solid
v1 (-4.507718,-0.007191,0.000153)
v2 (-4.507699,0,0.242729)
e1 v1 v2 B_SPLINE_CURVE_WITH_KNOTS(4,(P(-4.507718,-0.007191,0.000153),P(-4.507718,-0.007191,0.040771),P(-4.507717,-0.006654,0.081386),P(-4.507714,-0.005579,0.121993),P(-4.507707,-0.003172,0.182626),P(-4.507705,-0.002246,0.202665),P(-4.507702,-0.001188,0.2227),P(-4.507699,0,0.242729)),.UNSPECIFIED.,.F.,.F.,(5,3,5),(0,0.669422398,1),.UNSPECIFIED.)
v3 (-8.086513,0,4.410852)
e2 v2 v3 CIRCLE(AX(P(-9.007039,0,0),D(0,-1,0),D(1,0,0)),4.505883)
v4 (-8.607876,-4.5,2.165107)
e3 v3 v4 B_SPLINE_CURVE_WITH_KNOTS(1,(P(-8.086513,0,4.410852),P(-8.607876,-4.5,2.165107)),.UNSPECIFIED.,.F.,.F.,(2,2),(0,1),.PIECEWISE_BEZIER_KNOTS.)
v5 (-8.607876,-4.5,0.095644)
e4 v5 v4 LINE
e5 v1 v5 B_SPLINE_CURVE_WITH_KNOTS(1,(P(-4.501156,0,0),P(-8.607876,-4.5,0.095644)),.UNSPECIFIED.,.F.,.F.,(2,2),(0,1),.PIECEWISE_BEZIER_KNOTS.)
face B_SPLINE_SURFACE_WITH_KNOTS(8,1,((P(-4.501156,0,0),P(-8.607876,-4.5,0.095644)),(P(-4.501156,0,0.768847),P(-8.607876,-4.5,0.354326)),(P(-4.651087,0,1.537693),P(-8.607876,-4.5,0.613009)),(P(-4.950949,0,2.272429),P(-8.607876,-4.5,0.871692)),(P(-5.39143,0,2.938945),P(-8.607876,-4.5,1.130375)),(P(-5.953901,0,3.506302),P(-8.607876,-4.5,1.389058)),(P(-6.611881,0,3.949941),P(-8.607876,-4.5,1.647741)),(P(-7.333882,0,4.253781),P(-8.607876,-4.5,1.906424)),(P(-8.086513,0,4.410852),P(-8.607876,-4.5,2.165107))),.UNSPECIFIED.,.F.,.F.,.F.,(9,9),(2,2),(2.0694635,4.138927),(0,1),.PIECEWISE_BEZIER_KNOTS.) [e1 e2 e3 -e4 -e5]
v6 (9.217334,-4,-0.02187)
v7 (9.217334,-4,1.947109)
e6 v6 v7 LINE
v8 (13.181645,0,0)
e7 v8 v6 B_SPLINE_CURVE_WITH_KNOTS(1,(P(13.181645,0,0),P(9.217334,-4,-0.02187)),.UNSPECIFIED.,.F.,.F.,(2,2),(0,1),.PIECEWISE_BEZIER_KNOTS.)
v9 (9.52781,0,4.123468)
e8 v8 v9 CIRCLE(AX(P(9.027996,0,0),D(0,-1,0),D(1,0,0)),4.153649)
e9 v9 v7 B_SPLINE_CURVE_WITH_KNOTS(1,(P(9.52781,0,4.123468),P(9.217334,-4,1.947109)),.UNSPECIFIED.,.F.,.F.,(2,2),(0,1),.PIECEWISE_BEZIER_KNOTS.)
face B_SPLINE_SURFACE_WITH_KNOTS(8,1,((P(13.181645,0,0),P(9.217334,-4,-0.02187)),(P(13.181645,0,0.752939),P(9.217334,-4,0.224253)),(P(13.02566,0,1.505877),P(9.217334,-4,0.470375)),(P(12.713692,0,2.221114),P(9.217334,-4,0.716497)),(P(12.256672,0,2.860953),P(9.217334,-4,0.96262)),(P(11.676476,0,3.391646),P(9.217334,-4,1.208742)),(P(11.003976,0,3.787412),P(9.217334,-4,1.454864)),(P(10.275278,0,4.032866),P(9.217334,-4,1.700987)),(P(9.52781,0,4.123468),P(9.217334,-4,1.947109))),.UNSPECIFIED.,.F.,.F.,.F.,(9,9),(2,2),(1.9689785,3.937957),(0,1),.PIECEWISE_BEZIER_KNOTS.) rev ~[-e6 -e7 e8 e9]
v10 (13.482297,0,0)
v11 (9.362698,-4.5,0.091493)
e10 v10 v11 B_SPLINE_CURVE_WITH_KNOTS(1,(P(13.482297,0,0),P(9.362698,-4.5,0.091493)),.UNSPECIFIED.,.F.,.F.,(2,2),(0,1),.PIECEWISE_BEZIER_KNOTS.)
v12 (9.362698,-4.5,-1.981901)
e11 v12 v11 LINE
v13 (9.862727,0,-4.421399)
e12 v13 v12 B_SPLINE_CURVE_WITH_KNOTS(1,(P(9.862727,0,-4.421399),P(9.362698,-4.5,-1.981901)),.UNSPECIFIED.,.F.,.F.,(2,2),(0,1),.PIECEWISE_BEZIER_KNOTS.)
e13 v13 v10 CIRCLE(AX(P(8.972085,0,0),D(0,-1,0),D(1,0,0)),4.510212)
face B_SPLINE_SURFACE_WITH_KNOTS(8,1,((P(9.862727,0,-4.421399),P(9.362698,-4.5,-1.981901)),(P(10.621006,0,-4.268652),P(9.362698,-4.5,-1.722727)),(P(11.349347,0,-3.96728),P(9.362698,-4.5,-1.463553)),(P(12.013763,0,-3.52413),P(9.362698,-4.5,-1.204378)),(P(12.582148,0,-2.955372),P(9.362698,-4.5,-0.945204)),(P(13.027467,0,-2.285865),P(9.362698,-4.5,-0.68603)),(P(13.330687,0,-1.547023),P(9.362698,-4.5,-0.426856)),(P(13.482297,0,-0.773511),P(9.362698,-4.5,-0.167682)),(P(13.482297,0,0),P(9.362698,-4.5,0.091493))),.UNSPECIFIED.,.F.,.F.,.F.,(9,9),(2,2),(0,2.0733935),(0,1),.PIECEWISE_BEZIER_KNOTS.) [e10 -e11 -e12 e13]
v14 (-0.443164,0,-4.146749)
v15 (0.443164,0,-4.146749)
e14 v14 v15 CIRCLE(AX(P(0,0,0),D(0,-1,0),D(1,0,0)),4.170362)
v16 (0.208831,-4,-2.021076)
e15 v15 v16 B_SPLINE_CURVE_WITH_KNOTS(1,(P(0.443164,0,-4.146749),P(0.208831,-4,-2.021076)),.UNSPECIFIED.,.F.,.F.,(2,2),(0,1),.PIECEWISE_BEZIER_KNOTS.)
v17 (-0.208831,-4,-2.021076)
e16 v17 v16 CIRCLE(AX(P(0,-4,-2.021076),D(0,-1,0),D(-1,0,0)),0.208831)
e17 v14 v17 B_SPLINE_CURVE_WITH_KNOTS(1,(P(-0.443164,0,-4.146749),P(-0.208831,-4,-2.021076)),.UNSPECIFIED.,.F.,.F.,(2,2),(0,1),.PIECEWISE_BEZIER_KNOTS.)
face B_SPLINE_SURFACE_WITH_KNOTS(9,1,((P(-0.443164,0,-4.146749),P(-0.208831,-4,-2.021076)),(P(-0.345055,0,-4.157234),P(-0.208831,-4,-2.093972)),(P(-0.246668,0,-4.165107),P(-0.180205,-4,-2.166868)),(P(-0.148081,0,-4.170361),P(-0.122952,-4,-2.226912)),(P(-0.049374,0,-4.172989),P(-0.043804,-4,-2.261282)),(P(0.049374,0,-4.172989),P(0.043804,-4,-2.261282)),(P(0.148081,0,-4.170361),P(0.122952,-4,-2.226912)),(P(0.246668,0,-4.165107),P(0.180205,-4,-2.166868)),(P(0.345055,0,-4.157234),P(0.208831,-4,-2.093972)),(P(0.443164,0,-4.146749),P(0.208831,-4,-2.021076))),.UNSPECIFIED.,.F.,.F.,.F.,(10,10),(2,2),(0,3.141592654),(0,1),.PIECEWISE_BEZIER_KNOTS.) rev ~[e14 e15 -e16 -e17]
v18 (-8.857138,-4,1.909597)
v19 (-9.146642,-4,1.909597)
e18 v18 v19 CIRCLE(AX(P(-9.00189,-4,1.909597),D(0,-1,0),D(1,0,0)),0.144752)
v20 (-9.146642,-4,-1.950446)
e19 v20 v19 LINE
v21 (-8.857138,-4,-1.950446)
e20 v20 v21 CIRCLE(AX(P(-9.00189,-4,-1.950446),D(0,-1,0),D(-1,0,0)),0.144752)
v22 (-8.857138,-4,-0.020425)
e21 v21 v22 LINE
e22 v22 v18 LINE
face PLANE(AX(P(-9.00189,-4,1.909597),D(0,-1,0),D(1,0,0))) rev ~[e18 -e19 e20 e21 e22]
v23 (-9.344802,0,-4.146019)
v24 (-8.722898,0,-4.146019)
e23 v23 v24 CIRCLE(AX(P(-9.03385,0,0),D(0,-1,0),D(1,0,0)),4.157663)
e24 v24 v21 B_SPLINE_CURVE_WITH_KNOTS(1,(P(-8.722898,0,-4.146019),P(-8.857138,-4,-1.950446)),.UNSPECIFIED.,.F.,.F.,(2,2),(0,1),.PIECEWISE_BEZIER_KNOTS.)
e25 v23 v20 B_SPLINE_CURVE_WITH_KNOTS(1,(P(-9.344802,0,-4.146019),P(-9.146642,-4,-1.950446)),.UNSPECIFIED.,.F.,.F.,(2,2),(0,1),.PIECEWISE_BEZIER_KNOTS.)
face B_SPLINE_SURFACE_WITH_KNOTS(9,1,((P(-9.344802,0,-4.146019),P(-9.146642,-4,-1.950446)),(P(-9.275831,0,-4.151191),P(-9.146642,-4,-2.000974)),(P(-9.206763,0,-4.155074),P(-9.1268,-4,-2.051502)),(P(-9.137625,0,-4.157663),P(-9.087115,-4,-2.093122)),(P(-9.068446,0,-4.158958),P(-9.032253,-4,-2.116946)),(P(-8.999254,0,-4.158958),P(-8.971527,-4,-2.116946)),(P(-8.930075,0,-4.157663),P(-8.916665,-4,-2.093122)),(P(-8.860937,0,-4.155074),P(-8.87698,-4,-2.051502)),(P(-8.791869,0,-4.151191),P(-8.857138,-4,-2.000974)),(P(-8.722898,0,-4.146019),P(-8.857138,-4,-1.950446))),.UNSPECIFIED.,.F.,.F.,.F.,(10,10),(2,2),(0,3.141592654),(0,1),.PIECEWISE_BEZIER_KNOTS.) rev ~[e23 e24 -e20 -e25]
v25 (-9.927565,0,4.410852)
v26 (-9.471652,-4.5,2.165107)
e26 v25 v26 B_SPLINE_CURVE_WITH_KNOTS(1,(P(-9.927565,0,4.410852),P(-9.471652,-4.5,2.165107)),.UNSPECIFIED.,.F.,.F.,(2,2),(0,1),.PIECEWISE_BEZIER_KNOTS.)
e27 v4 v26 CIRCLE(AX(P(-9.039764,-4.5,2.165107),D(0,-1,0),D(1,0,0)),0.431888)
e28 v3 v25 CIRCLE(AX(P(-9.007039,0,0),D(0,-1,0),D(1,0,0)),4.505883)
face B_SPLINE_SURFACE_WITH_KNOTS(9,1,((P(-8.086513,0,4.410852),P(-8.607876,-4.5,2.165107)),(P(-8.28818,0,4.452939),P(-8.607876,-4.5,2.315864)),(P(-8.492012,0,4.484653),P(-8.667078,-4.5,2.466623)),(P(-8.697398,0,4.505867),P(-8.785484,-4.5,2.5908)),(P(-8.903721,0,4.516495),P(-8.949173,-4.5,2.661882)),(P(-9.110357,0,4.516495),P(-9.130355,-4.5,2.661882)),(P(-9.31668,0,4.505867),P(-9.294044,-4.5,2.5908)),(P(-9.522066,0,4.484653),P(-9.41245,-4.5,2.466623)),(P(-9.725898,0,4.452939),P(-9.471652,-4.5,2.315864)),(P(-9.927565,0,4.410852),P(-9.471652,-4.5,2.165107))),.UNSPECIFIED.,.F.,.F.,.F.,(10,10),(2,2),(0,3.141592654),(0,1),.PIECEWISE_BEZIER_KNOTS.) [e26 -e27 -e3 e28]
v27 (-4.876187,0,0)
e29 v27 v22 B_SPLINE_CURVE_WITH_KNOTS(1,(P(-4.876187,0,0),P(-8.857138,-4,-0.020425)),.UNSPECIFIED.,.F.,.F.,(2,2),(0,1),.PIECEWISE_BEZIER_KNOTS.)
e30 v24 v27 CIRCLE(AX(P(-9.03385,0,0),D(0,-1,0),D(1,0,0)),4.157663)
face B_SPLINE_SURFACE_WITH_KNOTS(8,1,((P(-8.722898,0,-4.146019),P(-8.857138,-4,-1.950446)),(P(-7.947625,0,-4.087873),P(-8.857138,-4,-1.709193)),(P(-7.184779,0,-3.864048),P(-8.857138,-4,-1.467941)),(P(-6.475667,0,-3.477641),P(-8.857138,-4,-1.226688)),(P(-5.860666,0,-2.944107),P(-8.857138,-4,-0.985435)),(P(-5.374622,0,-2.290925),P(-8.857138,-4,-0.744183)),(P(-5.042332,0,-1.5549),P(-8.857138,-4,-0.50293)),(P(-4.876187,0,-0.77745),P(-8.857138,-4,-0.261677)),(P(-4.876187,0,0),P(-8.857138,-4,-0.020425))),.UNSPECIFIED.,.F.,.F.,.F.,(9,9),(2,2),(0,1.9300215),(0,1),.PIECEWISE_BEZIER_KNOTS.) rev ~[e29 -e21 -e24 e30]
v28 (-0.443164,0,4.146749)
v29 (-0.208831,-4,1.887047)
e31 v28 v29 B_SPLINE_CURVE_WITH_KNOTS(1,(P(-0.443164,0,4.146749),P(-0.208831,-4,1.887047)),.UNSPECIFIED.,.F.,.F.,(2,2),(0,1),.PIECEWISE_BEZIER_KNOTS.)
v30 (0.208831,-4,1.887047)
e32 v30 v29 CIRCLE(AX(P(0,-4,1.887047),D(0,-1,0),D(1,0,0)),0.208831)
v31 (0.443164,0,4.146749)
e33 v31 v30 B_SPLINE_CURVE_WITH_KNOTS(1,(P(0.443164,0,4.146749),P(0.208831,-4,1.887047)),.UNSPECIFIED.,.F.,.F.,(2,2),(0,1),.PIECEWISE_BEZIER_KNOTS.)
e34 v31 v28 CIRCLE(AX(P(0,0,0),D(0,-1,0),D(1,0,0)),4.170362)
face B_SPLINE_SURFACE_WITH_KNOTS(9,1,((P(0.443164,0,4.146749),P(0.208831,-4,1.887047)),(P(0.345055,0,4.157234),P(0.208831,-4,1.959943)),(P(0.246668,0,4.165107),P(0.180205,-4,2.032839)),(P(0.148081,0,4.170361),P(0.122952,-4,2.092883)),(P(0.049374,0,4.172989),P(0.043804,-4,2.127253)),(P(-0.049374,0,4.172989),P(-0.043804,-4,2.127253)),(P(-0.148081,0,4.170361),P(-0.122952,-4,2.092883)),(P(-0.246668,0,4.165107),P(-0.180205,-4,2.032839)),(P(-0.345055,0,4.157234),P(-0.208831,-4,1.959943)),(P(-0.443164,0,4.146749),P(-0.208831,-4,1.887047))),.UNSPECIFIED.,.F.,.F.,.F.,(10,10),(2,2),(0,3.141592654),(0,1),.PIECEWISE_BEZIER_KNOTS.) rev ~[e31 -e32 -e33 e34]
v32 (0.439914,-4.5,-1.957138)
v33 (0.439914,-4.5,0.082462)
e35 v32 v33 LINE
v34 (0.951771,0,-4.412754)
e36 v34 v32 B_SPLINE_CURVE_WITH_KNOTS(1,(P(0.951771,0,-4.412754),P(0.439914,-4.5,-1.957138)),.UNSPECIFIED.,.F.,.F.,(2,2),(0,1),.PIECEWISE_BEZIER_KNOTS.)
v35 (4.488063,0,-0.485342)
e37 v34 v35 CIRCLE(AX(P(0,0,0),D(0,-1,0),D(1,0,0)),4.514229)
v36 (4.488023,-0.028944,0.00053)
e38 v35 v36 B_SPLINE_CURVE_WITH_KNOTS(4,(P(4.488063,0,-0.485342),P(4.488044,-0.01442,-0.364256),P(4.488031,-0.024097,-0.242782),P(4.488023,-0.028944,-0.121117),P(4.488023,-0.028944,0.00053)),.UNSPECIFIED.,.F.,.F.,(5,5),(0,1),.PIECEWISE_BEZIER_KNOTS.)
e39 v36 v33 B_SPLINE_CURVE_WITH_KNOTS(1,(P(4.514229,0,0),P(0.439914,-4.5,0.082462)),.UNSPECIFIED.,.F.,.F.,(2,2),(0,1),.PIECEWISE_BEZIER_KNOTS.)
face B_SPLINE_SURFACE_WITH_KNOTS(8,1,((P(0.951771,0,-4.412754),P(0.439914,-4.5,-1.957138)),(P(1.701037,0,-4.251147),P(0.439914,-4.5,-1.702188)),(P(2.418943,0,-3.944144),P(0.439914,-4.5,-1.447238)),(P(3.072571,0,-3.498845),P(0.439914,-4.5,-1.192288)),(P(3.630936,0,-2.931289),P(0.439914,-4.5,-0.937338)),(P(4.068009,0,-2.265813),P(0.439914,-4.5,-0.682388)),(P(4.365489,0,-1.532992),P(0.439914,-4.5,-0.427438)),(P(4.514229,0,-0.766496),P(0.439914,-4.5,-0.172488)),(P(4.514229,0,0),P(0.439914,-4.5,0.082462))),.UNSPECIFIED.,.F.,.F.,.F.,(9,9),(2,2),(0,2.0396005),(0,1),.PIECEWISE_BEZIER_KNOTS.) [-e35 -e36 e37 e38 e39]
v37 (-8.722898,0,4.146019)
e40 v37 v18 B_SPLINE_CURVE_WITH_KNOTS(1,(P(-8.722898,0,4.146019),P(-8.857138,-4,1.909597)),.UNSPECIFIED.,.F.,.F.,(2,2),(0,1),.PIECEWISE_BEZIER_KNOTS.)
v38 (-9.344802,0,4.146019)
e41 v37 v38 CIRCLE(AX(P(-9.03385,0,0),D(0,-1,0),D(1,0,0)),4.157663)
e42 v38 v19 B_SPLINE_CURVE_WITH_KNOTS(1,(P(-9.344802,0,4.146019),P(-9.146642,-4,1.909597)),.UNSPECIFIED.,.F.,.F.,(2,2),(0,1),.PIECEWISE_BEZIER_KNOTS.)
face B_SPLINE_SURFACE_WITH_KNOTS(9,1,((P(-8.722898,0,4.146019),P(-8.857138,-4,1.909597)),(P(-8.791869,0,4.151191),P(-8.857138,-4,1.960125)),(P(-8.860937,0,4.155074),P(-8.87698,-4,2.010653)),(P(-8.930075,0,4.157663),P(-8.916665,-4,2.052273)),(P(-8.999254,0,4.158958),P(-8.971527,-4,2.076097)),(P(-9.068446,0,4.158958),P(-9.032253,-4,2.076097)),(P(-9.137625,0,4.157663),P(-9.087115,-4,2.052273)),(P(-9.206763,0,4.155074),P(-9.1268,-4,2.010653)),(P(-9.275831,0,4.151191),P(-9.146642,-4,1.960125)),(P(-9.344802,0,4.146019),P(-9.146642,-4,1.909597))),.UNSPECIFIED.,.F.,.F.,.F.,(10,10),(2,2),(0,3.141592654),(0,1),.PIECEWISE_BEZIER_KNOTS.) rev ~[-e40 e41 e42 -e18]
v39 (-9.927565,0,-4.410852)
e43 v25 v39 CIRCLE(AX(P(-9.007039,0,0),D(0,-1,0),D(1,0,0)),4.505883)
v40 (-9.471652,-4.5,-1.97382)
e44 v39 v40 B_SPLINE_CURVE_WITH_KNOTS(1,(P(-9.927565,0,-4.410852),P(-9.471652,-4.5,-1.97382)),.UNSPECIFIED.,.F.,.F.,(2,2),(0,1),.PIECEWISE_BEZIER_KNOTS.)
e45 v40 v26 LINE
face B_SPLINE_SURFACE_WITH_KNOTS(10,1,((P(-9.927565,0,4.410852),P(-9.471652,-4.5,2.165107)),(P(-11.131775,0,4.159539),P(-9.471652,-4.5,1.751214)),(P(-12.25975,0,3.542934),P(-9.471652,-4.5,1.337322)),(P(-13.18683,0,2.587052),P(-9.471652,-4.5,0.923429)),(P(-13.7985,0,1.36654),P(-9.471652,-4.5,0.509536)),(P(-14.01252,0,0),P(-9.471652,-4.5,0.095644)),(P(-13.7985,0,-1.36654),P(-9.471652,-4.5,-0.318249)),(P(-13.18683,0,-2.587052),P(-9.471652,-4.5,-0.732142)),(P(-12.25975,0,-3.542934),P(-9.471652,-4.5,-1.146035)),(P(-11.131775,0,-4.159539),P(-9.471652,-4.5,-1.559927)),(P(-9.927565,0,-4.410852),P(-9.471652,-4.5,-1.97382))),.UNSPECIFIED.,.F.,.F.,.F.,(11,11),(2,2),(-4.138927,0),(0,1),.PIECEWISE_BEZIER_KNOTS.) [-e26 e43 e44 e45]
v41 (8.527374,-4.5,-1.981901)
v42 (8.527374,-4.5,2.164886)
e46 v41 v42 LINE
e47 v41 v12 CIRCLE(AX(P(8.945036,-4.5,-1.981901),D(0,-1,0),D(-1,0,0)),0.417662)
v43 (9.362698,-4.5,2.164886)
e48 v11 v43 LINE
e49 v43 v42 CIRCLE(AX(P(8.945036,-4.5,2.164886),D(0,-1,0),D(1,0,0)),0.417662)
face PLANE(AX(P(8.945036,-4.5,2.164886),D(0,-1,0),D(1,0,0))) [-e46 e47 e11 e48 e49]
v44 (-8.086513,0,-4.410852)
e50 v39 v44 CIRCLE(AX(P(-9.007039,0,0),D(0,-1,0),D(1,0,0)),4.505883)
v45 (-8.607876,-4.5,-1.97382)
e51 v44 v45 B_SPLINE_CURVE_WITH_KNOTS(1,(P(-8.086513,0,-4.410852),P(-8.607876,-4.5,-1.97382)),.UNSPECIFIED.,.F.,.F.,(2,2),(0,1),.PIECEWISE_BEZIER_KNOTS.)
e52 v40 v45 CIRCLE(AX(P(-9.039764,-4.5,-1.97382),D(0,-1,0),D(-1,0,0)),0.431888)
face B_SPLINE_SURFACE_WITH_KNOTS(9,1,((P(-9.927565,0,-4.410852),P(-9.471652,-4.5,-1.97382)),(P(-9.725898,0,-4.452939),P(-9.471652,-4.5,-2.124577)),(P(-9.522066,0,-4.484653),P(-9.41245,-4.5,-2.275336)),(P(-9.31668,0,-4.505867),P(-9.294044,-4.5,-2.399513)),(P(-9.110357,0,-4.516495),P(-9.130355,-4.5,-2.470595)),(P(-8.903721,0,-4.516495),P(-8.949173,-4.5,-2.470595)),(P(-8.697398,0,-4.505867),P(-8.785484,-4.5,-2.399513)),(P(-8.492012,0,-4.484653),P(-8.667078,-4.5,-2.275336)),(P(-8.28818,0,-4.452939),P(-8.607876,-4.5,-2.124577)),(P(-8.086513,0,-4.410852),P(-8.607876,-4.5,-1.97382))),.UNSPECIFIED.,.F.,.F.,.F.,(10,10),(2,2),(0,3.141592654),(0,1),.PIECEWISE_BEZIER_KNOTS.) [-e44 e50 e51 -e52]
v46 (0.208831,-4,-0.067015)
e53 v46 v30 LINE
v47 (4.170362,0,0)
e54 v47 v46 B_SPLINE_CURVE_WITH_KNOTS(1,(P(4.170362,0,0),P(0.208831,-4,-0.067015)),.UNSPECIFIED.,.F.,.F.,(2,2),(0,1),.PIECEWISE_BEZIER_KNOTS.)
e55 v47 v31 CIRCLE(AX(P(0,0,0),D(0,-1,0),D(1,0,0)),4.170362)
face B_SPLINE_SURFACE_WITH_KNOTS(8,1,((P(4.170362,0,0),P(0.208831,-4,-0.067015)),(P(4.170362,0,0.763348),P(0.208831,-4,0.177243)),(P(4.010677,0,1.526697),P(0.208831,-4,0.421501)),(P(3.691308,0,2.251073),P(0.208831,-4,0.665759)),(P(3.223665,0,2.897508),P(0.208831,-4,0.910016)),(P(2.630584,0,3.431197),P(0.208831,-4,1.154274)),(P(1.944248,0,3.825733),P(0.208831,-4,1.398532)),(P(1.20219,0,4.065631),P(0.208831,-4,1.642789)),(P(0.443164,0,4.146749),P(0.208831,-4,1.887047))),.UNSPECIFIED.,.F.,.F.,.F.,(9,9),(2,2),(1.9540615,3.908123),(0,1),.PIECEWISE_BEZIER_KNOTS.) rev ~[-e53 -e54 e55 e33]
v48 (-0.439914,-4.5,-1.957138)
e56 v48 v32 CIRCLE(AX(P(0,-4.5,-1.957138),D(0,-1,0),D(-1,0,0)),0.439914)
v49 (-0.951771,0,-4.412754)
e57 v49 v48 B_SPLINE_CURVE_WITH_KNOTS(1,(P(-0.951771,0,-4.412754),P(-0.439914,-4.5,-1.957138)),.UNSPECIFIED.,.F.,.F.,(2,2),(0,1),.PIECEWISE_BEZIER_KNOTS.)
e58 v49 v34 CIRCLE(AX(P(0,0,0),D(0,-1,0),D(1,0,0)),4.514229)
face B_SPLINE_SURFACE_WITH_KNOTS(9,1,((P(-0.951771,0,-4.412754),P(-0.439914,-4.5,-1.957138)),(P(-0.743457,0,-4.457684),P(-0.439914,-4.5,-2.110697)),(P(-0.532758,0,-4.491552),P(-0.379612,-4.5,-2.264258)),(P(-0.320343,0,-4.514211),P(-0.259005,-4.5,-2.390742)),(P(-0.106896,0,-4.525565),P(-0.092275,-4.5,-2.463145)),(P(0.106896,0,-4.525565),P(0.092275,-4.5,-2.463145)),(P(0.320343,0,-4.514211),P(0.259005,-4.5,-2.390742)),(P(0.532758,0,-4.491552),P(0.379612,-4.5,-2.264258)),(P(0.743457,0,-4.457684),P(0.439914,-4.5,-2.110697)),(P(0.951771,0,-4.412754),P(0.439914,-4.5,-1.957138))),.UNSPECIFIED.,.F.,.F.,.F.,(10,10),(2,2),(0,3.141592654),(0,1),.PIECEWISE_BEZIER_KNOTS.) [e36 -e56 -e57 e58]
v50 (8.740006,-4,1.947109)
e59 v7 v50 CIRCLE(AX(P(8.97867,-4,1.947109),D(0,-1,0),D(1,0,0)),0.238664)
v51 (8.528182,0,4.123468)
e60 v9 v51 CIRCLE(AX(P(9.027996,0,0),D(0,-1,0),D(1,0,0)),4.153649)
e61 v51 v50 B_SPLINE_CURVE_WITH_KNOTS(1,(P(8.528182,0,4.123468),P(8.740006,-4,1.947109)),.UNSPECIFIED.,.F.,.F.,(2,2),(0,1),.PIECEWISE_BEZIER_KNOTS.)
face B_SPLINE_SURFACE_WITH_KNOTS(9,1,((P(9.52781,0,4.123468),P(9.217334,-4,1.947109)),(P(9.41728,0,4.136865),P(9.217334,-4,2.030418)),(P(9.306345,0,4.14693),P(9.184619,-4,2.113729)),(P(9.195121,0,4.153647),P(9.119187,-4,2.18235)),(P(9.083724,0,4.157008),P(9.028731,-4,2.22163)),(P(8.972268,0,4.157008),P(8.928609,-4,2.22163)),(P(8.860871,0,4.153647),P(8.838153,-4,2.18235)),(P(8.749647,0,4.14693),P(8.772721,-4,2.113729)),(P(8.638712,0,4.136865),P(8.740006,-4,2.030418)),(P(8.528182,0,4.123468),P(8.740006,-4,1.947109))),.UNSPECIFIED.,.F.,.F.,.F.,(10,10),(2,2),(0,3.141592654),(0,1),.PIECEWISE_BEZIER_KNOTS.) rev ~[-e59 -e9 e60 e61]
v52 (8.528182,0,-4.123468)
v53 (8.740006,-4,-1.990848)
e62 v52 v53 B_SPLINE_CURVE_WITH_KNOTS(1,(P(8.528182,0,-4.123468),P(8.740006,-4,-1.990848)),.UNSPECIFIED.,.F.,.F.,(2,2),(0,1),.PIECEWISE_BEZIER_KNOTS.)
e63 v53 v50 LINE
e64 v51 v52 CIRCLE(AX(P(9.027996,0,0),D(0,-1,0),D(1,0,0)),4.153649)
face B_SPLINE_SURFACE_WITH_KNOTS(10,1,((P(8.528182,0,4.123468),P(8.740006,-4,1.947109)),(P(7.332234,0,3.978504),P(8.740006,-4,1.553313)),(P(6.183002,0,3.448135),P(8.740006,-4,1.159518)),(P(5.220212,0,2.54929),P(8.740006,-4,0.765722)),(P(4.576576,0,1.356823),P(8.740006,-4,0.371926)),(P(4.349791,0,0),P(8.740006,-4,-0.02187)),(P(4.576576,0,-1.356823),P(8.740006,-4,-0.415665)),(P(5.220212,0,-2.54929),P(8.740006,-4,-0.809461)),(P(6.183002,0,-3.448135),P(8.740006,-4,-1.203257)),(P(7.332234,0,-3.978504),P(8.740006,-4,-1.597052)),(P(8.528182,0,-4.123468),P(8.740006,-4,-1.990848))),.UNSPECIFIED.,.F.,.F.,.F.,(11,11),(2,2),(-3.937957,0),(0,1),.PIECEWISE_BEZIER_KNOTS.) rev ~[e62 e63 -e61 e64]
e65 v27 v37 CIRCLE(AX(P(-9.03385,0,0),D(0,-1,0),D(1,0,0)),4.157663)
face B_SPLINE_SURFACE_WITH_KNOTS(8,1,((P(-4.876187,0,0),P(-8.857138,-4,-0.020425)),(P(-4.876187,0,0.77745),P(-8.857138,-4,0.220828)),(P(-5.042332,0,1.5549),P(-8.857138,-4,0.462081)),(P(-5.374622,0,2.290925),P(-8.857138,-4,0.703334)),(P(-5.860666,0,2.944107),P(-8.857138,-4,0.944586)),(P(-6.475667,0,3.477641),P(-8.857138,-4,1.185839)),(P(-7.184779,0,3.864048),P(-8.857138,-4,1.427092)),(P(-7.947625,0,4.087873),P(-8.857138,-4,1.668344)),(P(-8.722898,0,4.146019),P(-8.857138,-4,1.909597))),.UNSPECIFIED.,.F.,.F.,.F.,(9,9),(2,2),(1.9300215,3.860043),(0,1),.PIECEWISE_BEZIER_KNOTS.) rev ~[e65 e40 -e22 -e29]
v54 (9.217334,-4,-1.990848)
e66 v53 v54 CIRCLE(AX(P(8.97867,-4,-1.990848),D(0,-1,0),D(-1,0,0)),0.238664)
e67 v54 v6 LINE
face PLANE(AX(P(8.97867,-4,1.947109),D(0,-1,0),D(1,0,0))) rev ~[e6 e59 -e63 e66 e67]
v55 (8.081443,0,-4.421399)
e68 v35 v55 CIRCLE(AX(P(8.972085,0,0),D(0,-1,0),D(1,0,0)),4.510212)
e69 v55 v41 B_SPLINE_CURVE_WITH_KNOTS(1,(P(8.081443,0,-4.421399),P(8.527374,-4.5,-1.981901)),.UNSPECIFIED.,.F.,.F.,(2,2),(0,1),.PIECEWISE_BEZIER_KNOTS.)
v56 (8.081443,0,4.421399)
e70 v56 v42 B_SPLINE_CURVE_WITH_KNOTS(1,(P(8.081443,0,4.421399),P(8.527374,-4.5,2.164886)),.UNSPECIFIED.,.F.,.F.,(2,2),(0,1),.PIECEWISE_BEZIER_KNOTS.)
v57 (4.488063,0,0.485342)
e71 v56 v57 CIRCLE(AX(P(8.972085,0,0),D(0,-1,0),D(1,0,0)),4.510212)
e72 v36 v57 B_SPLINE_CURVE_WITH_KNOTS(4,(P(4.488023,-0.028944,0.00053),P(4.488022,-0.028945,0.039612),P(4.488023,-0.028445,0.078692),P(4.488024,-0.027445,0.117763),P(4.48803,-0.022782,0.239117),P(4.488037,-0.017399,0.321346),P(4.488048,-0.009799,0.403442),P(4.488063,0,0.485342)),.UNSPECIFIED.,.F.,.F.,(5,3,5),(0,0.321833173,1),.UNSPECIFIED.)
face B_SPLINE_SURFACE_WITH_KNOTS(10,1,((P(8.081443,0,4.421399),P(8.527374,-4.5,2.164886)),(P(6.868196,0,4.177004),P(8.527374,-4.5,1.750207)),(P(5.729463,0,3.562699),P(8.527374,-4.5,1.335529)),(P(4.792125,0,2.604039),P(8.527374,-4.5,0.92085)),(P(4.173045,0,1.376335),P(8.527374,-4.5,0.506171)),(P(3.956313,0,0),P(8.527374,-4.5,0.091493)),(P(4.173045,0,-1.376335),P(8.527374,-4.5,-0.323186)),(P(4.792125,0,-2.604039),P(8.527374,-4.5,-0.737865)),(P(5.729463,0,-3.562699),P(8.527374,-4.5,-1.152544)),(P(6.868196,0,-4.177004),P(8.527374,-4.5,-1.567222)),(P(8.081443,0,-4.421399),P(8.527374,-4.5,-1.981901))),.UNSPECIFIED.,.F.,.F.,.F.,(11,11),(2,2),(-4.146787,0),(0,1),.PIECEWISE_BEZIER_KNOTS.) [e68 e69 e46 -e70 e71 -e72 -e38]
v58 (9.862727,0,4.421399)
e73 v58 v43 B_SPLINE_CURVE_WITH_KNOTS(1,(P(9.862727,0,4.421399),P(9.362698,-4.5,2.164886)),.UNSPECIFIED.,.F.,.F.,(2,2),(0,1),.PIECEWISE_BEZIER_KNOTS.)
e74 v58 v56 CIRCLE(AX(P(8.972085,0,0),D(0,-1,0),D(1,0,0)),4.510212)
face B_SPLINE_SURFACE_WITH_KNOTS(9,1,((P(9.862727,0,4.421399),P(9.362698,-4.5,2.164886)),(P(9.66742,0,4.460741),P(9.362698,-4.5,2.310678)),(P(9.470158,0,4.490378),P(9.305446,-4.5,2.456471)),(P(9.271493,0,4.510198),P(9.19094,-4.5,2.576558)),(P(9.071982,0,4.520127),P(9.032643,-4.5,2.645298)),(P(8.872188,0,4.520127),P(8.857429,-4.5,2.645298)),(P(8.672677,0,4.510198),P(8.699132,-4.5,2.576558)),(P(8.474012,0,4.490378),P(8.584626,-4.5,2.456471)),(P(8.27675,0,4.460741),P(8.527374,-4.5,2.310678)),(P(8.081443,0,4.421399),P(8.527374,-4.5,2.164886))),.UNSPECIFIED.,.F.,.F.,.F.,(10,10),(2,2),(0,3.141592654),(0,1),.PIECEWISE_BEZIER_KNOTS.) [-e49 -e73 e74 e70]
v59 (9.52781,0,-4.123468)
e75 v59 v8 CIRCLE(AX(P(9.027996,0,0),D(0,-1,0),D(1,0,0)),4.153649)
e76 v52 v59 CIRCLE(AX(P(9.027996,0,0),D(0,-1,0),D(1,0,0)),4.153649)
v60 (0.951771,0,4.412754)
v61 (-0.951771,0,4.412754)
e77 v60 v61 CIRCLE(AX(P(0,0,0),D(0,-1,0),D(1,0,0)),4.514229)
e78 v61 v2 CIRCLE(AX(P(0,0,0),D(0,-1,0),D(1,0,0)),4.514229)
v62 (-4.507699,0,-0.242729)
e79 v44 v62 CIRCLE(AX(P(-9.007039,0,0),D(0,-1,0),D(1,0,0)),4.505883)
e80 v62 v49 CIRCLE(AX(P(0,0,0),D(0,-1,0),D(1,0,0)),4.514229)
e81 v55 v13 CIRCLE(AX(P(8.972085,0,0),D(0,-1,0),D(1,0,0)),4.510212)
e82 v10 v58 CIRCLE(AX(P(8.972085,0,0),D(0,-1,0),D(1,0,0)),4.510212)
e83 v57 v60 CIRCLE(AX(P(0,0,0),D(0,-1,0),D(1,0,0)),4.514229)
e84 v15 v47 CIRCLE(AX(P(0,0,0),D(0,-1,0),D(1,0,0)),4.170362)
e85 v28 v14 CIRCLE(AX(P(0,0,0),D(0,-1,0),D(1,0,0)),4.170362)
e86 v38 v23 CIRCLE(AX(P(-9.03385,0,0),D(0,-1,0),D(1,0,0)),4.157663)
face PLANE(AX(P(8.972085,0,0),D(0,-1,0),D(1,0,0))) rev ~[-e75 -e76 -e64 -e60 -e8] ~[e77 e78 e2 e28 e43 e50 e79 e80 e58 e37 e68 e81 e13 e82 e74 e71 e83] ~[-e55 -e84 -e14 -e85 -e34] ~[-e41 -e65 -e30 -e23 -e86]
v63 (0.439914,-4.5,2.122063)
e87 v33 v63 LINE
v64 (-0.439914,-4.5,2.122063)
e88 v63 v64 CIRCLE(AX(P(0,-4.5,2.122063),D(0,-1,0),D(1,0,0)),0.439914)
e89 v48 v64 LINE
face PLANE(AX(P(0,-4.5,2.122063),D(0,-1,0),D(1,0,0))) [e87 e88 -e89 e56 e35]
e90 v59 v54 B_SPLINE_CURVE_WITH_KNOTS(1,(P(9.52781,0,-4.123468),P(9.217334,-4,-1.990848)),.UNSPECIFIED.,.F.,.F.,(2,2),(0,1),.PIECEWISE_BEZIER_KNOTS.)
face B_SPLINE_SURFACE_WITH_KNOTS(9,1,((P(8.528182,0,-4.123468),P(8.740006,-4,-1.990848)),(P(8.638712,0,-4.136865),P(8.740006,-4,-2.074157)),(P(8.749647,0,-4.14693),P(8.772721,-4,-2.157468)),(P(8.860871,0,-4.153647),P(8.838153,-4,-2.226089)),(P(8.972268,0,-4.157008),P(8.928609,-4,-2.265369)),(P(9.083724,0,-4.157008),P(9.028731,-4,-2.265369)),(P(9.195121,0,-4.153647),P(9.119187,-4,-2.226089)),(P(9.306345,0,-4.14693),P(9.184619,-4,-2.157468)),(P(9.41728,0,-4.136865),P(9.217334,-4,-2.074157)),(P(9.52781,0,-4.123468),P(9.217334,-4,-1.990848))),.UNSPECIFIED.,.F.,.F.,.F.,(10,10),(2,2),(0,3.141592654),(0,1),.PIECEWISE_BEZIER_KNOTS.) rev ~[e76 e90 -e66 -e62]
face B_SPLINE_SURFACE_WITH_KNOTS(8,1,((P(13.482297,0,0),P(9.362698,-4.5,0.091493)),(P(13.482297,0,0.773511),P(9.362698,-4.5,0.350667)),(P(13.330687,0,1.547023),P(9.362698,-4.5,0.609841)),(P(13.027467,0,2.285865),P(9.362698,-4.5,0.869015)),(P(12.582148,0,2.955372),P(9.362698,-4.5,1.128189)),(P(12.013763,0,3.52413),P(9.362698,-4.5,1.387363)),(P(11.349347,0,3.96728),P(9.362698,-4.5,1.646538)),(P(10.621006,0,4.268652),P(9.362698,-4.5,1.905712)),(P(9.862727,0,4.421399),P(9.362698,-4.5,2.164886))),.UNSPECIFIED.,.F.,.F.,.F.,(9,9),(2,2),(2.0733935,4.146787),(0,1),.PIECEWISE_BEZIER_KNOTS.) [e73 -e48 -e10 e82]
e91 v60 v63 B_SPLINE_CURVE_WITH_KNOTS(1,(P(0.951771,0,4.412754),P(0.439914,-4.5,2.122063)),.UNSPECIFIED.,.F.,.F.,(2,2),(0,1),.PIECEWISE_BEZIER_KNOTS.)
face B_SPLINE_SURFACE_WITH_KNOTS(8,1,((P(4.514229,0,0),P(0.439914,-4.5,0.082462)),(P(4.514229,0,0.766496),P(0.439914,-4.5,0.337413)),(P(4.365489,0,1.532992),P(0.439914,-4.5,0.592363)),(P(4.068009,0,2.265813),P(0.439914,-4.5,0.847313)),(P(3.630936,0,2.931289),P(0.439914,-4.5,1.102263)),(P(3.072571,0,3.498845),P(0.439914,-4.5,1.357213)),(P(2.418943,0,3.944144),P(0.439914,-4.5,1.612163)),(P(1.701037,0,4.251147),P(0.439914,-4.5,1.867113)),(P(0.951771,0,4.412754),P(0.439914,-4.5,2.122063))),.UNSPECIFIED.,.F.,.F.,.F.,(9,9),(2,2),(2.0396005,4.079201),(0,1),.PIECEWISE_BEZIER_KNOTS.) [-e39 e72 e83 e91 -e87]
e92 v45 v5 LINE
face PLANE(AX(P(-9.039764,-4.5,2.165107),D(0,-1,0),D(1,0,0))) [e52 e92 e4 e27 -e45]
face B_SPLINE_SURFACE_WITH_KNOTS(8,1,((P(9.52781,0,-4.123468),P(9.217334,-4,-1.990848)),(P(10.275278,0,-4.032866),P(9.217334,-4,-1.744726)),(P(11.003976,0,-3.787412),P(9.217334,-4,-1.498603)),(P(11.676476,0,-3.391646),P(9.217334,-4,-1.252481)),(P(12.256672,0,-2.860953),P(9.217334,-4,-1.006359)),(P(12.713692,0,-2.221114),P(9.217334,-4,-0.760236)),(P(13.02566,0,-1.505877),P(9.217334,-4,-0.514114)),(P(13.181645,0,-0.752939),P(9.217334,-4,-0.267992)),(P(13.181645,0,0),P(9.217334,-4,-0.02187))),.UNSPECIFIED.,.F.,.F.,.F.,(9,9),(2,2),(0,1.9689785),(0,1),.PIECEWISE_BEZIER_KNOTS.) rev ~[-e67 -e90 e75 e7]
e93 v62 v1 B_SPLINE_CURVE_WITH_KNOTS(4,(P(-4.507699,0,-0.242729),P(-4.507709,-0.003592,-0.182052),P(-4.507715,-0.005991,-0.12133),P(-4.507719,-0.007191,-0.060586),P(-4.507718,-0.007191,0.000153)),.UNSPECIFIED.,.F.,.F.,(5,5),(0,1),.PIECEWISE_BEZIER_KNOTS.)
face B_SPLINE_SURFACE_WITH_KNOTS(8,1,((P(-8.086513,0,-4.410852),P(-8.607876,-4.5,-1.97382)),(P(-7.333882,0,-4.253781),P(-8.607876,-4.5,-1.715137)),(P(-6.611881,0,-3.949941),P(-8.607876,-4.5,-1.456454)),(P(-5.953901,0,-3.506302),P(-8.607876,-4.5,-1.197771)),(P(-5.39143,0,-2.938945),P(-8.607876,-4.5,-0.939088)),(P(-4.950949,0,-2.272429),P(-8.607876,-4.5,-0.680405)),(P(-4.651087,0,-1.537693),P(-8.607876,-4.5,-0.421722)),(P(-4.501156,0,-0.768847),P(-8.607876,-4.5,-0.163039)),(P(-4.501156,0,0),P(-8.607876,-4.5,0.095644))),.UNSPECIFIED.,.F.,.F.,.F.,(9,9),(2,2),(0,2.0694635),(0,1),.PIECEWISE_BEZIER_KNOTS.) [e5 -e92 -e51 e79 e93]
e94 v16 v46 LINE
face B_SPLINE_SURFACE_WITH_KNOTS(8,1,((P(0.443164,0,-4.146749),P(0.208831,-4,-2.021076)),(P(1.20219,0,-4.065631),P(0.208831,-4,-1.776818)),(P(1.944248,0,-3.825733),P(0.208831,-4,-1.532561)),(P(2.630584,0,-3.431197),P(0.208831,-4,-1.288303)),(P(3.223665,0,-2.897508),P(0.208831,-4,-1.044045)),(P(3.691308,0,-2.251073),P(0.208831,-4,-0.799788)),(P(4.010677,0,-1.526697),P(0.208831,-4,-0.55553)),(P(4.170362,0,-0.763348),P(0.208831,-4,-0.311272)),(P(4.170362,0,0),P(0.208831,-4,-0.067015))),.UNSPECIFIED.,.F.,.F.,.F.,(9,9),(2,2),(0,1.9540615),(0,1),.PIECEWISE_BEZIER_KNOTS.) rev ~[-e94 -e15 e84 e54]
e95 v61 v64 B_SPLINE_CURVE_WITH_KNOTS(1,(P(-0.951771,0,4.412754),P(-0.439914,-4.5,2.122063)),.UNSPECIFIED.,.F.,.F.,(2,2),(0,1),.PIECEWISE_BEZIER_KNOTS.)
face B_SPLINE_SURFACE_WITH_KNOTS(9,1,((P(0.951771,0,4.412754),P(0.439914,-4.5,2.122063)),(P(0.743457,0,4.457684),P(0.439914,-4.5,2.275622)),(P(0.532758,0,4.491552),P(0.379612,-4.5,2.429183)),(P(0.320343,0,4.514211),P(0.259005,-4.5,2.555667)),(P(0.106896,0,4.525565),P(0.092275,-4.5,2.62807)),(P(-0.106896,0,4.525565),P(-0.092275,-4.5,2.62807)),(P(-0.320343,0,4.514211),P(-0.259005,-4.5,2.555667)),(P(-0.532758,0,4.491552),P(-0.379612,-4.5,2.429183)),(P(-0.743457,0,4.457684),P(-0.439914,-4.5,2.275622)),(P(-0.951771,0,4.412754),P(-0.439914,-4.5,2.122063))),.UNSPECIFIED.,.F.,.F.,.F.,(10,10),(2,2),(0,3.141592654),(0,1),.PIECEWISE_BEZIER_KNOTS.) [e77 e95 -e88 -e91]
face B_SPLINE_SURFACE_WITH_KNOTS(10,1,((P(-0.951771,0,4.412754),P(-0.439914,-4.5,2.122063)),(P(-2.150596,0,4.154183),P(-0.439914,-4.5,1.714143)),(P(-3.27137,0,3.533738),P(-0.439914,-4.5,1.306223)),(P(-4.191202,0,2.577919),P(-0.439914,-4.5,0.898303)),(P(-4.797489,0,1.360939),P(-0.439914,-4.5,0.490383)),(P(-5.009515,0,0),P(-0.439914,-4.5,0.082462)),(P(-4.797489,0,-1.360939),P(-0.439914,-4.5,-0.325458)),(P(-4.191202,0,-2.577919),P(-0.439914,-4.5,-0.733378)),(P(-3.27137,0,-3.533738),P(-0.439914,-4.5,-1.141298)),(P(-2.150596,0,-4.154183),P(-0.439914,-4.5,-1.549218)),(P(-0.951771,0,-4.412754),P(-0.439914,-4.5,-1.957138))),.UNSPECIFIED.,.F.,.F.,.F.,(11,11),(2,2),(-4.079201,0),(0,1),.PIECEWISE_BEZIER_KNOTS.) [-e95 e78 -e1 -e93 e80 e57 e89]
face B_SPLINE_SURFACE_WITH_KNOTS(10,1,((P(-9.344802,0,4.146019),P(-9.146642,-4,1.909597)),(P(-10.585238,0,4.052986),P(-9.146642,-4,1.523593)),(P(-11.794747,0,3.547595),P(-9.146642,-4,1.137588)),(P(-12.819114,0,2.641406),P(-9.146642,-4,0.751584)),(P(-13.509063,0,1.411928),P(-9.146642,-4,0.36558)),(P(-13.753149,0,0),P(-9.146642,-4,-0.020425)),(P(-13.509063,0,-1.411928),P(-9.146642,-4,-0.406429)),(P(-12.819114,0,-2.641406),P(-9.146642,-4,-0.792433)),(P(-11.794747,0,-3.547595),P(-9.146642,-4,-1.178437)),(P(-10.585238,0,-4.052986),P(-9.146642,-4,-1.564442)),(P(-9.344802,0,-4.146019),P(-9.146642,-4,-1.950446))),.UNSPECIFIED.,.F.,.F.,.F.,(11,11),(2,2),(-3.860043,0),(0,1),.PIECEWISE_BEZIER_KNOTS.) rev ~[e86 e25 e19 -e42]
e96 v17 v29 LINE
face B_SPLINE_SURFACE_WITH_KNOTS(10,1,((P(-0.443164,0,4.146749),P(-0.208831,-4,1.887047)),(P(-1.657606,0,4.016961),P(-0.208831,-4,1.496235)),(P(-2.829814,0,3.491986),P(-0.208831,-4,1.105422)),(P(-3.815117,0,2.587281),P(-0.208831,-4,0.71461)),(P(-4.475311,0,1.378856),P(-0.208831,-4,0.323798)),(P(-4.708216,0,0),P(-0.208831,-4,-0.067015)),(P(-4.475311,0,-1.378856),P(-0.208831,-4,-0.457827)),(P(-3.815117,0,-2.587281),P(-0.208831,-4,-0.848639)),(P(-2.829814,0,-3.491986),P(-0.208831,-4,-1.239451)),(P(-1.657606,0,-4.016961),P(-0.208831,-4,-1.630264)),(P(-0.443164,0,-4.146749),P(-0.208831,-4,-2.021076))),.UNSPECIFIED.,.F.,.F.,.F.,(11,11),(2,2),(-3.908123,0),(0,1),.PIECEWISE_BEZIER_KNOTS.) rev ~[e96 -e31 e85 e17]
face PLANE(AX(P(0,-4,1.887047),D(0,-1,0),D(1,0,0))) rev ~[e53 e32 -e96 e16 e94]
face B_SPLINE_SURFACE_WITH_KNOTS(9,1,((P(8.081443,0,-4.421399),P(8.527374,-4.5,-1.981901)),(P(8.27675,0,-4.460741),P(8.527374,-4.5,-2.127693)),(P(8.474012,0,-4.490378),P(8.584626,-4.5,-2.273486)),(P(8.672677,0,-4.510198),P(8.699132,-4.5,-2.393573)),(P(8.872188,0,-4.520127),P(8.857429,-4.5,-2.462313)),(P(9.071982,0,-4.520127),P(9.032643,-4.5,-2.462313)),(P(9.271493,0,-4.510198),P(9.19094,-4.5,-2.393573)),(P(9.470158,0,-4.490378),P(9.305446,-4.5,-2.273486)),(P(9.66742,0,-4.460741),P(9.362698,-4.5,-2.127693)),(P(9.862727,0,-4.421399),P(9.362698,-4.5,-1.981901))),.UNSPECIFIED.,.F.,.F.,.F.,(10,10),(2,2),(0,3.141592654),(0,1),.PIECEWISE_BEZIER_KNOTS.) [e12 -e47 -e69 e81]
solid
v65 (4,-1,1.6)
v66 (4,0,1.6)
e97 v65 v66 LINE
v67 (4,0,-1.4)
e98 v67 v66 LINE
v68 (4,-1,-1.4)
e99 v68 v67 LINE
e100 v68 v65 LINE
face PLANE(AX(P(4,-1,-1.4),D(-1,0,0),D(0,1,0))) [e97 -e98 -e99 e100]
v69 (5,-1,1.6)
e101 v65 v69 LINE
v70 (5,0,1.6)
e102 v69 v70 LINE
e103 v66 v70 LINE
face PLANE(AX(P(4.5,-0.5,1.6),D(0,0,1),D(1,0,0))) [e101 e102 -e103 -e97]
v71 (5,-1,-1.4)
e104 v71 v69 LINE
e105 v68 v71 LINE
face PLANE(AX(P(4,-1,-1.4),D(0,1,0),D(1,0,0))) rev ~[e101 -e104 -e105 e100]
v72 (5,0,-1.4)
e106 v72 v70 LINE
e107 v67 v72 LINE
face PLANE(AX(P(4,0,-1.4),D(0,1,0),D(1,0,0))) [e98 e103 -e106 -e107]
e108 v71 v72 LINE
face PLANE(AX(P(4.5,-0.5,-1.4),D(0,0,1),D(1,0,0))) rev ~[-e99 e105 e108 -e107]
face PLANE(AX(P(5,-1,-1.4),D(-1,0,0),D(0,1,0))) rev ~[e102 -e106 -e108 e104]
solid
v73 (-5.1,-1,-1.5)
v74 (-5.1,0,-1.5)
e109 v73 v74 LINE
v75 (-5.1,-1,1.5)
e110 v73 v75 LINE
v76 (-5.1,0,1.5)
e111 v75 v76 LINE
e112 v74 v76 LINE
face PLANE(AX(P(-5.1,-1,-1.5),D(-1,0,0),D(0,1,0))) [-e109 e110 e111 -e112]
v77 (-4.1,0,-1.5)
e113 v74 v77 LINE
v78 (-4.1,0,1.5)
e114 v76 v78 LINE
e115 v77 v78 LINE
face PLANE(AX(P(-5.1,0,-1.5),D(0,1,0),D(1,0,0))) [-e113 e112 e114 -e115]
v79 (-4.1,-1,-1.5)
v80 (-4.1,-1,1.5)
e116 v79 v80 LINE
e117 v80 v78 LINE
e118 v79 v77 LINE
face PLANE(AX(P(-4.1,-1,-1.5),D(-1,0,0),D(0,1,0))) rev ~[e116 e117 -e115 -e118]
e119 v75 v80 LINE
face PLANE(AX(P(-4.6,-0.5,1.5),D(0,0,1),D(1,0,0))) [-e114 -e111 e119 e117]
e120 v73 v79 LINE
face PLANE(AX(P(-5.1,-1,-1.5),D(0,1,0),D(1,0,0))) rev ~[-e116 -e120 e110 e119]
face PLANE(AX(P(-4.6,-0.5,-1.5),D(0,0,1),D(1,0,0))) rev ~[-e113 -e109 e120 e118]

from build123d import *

# Parameters (mm, degrees)
SKETCH001_R  = 4.505883
SKETCH002_R  = 4.157663
SKETCH005_R  = 4.514229
SKETCH007_R  = 4.170362
SKETCH009_R  = 4.510212
SKETCH011_R  = 4.153649
BOX_W        = 1
BOX_H        = 1
BOX_DEPTH    = 3
BOX001_W     = 1
BOX001_H     = 1
BOX001_DEPTH = 3


with BuildPart() as body:
    # Sketch001 → AdditiveLoft section 0
    with BuildSketch(Plane.XZ):
        with Locations((-9.007039, 0)):
            Circle(SKETCH001_R)
    # Sketch003 (on DatumPlane) → AdditiveLoft section 1
    with BuildSketch(Plane.XZ.offset(4.5)):
        with BuildLine():
            ThreePointArc((-9.471652, -1.97382), (-9.039764, -2.405708), (-8.607876, -1.97382))
            Line((-8.607876, -1.97382), (-8.607876, 2.165107))
            ThreePointArc((-8.607876, 2.165107), (-9.039764, 2.596995), (-9.471652, 2.165107))
            Line((-9.471652, -1.97382), (-9.471652, 2.165107))
        make_face()
    loft()

    # Sketch002 → SubtractiveLoft section 0
    with BuildSketch(Plane.XZ):
        with Locations((-9.03385, 0)):
            Circle(SKETCH002_R)
    # Sketch004 (on DatumPlane) → SubtractiveLoft section 1
    with BuildSketch(Plane.XZ.offset(4)):
        with BuildLine():
            ThreePointArc((-9.146642, -1.950446), (-9.00189, -2.095198), (-8.857138, -1.950446))
            Line((-8.857138, -1.950446), (-8.857138, 1.909597))
            ThreePointArc((-8.857138, 1.909597), (-9.00189, 2.054349), (-9.146642, 1.909597))
            Line((-9.146642, -1.950446), (-9.146642, 1.909597))
        make_face()
    loft(mode=Mode.SUBTRACT)

    # Sketch005 → AdditiveLoft001 section 0
    with BuildSketch(Plane.XZ):
        Circle(SKETCH005_R)
    # Sketch006 (on DatumPlane) → AdditiveLoft001 section 1
    with BuildSketch(Plane.XZ.offset(4.5)):
        with BuildLine():
            ThreePointArc((-0.439914, -1.957138), (0, -2.397052), (0.439914, -1.957138))
            Line((0.439914, -1.957138), (0.439914, 2.122063))
            ThreePointArc((0.439914, 2.122063), (0, 2.561977), (-0.439914, 2.122063))
            Line((-0.439914, -1.957138), (-0.439914, 2.122063))
        make_face()
    loft()

    # Sketch007 → SubtractiveLoft001 section 0
    with BuildSketch(Plane.XZ):
        Circle(SKETCH007_R)
    # Sketch008 (on DatumPlane) → SubtractiveLoft001 section 1
    with BuildSketch(Plane.XZ.offset(4)):
        with BuildLine():
            ThreePointArc((-0.208831, -2.021076), (0, -2.229907), (0.208831, -2.021076))
            Line((0.208831, -2.021076), (0.208831, 1.887047))
            ThreePointArc((0.208831, 1.887047), (0, 2.095878), (-0.208831, 1.887047))
            Line((-0.208831, -2.021076), (-0.208831, 1.887047))
        make_face()
    loft(mode=Mode.SUBTRACT)

    # Sketch009 → AdditiveLoft002 section 0
    with BuildSketch(Plane.XZ):
        with Locations((8.972085, 0)):
            Circle(SKETCH009_R)
    # Sketch010 (on DatumPlane) → AdditiveLoft002 section 1
    with BuildSketch(Plane.XZ.offset(4.5)):
        with BuildLine():
            ThreePointArc((8.527374, -1.981901), (8.945036, -2.399563), (9.362698, -1.981901))
            Line((9.362698, -1.981901), (9.362698, 2.164886))
            ThreePointArc((9.362698, 2.164886), (8.945036, 2.582548), (8.527374, 2.164886))
            Line((8.527374, -1.981901), (8.527374, 2.164886))
        make_face()
    loft()

    # Sketch011 → SubtractiveLoft002 section 0
    with BuildSketch(Plane.XZ):
        with Locations((9.027996, 0)):
            Circle(SKETCH011_R)
    # Sketch012 (on DatumPlane) → SubtractiveLoft002 section 1
    with BuildSketch(Plane.XZ.offset(4)):
        with BuildLine():
            ThreePointArc((8.740006, -1.990848), (8.97867, -2.229512), (9.217334, -1.990848))
            Line((9.217334, -1.990848), (9.217334, 1.947109))
            ThreePointArc((9.217334, 1.947109), (8.97867, 2.185773), (8.740006, 1.947109))
            Line((8.740006, -1.990848), (8.740006, 1.947109))
        make_face()
    loft(mode=Mode.SUBTRACT)


with BuildPart() as cube:
    # Box → Box (new body)
    with BuildSketch(Plane(origin=(-5.1, -1, -1.5), x_dir=(1, 0, 0), z_dir=(0, 0, 1))):
        with Locations((0.5, 0.5)):
            Rectangle(BOX_W, BOX_H)
    extrude(amount=BOX_DEPTH)


with BuildPart() as cube001:
    # Box001 → Box001 (new body)
    with BuildSketch(Plane(origin=(4, -1, -1.4), x_dir=(1, 0, 0), z_dir=(0, 0, 1))):
        with Locations((0.5, 0.5)):
            Rectangle(BOX001_W, BOX001_H)
    extrude(amount=BOX001_DEPTH)


solid = Compound([body.part, cube.part, cube001.part])
